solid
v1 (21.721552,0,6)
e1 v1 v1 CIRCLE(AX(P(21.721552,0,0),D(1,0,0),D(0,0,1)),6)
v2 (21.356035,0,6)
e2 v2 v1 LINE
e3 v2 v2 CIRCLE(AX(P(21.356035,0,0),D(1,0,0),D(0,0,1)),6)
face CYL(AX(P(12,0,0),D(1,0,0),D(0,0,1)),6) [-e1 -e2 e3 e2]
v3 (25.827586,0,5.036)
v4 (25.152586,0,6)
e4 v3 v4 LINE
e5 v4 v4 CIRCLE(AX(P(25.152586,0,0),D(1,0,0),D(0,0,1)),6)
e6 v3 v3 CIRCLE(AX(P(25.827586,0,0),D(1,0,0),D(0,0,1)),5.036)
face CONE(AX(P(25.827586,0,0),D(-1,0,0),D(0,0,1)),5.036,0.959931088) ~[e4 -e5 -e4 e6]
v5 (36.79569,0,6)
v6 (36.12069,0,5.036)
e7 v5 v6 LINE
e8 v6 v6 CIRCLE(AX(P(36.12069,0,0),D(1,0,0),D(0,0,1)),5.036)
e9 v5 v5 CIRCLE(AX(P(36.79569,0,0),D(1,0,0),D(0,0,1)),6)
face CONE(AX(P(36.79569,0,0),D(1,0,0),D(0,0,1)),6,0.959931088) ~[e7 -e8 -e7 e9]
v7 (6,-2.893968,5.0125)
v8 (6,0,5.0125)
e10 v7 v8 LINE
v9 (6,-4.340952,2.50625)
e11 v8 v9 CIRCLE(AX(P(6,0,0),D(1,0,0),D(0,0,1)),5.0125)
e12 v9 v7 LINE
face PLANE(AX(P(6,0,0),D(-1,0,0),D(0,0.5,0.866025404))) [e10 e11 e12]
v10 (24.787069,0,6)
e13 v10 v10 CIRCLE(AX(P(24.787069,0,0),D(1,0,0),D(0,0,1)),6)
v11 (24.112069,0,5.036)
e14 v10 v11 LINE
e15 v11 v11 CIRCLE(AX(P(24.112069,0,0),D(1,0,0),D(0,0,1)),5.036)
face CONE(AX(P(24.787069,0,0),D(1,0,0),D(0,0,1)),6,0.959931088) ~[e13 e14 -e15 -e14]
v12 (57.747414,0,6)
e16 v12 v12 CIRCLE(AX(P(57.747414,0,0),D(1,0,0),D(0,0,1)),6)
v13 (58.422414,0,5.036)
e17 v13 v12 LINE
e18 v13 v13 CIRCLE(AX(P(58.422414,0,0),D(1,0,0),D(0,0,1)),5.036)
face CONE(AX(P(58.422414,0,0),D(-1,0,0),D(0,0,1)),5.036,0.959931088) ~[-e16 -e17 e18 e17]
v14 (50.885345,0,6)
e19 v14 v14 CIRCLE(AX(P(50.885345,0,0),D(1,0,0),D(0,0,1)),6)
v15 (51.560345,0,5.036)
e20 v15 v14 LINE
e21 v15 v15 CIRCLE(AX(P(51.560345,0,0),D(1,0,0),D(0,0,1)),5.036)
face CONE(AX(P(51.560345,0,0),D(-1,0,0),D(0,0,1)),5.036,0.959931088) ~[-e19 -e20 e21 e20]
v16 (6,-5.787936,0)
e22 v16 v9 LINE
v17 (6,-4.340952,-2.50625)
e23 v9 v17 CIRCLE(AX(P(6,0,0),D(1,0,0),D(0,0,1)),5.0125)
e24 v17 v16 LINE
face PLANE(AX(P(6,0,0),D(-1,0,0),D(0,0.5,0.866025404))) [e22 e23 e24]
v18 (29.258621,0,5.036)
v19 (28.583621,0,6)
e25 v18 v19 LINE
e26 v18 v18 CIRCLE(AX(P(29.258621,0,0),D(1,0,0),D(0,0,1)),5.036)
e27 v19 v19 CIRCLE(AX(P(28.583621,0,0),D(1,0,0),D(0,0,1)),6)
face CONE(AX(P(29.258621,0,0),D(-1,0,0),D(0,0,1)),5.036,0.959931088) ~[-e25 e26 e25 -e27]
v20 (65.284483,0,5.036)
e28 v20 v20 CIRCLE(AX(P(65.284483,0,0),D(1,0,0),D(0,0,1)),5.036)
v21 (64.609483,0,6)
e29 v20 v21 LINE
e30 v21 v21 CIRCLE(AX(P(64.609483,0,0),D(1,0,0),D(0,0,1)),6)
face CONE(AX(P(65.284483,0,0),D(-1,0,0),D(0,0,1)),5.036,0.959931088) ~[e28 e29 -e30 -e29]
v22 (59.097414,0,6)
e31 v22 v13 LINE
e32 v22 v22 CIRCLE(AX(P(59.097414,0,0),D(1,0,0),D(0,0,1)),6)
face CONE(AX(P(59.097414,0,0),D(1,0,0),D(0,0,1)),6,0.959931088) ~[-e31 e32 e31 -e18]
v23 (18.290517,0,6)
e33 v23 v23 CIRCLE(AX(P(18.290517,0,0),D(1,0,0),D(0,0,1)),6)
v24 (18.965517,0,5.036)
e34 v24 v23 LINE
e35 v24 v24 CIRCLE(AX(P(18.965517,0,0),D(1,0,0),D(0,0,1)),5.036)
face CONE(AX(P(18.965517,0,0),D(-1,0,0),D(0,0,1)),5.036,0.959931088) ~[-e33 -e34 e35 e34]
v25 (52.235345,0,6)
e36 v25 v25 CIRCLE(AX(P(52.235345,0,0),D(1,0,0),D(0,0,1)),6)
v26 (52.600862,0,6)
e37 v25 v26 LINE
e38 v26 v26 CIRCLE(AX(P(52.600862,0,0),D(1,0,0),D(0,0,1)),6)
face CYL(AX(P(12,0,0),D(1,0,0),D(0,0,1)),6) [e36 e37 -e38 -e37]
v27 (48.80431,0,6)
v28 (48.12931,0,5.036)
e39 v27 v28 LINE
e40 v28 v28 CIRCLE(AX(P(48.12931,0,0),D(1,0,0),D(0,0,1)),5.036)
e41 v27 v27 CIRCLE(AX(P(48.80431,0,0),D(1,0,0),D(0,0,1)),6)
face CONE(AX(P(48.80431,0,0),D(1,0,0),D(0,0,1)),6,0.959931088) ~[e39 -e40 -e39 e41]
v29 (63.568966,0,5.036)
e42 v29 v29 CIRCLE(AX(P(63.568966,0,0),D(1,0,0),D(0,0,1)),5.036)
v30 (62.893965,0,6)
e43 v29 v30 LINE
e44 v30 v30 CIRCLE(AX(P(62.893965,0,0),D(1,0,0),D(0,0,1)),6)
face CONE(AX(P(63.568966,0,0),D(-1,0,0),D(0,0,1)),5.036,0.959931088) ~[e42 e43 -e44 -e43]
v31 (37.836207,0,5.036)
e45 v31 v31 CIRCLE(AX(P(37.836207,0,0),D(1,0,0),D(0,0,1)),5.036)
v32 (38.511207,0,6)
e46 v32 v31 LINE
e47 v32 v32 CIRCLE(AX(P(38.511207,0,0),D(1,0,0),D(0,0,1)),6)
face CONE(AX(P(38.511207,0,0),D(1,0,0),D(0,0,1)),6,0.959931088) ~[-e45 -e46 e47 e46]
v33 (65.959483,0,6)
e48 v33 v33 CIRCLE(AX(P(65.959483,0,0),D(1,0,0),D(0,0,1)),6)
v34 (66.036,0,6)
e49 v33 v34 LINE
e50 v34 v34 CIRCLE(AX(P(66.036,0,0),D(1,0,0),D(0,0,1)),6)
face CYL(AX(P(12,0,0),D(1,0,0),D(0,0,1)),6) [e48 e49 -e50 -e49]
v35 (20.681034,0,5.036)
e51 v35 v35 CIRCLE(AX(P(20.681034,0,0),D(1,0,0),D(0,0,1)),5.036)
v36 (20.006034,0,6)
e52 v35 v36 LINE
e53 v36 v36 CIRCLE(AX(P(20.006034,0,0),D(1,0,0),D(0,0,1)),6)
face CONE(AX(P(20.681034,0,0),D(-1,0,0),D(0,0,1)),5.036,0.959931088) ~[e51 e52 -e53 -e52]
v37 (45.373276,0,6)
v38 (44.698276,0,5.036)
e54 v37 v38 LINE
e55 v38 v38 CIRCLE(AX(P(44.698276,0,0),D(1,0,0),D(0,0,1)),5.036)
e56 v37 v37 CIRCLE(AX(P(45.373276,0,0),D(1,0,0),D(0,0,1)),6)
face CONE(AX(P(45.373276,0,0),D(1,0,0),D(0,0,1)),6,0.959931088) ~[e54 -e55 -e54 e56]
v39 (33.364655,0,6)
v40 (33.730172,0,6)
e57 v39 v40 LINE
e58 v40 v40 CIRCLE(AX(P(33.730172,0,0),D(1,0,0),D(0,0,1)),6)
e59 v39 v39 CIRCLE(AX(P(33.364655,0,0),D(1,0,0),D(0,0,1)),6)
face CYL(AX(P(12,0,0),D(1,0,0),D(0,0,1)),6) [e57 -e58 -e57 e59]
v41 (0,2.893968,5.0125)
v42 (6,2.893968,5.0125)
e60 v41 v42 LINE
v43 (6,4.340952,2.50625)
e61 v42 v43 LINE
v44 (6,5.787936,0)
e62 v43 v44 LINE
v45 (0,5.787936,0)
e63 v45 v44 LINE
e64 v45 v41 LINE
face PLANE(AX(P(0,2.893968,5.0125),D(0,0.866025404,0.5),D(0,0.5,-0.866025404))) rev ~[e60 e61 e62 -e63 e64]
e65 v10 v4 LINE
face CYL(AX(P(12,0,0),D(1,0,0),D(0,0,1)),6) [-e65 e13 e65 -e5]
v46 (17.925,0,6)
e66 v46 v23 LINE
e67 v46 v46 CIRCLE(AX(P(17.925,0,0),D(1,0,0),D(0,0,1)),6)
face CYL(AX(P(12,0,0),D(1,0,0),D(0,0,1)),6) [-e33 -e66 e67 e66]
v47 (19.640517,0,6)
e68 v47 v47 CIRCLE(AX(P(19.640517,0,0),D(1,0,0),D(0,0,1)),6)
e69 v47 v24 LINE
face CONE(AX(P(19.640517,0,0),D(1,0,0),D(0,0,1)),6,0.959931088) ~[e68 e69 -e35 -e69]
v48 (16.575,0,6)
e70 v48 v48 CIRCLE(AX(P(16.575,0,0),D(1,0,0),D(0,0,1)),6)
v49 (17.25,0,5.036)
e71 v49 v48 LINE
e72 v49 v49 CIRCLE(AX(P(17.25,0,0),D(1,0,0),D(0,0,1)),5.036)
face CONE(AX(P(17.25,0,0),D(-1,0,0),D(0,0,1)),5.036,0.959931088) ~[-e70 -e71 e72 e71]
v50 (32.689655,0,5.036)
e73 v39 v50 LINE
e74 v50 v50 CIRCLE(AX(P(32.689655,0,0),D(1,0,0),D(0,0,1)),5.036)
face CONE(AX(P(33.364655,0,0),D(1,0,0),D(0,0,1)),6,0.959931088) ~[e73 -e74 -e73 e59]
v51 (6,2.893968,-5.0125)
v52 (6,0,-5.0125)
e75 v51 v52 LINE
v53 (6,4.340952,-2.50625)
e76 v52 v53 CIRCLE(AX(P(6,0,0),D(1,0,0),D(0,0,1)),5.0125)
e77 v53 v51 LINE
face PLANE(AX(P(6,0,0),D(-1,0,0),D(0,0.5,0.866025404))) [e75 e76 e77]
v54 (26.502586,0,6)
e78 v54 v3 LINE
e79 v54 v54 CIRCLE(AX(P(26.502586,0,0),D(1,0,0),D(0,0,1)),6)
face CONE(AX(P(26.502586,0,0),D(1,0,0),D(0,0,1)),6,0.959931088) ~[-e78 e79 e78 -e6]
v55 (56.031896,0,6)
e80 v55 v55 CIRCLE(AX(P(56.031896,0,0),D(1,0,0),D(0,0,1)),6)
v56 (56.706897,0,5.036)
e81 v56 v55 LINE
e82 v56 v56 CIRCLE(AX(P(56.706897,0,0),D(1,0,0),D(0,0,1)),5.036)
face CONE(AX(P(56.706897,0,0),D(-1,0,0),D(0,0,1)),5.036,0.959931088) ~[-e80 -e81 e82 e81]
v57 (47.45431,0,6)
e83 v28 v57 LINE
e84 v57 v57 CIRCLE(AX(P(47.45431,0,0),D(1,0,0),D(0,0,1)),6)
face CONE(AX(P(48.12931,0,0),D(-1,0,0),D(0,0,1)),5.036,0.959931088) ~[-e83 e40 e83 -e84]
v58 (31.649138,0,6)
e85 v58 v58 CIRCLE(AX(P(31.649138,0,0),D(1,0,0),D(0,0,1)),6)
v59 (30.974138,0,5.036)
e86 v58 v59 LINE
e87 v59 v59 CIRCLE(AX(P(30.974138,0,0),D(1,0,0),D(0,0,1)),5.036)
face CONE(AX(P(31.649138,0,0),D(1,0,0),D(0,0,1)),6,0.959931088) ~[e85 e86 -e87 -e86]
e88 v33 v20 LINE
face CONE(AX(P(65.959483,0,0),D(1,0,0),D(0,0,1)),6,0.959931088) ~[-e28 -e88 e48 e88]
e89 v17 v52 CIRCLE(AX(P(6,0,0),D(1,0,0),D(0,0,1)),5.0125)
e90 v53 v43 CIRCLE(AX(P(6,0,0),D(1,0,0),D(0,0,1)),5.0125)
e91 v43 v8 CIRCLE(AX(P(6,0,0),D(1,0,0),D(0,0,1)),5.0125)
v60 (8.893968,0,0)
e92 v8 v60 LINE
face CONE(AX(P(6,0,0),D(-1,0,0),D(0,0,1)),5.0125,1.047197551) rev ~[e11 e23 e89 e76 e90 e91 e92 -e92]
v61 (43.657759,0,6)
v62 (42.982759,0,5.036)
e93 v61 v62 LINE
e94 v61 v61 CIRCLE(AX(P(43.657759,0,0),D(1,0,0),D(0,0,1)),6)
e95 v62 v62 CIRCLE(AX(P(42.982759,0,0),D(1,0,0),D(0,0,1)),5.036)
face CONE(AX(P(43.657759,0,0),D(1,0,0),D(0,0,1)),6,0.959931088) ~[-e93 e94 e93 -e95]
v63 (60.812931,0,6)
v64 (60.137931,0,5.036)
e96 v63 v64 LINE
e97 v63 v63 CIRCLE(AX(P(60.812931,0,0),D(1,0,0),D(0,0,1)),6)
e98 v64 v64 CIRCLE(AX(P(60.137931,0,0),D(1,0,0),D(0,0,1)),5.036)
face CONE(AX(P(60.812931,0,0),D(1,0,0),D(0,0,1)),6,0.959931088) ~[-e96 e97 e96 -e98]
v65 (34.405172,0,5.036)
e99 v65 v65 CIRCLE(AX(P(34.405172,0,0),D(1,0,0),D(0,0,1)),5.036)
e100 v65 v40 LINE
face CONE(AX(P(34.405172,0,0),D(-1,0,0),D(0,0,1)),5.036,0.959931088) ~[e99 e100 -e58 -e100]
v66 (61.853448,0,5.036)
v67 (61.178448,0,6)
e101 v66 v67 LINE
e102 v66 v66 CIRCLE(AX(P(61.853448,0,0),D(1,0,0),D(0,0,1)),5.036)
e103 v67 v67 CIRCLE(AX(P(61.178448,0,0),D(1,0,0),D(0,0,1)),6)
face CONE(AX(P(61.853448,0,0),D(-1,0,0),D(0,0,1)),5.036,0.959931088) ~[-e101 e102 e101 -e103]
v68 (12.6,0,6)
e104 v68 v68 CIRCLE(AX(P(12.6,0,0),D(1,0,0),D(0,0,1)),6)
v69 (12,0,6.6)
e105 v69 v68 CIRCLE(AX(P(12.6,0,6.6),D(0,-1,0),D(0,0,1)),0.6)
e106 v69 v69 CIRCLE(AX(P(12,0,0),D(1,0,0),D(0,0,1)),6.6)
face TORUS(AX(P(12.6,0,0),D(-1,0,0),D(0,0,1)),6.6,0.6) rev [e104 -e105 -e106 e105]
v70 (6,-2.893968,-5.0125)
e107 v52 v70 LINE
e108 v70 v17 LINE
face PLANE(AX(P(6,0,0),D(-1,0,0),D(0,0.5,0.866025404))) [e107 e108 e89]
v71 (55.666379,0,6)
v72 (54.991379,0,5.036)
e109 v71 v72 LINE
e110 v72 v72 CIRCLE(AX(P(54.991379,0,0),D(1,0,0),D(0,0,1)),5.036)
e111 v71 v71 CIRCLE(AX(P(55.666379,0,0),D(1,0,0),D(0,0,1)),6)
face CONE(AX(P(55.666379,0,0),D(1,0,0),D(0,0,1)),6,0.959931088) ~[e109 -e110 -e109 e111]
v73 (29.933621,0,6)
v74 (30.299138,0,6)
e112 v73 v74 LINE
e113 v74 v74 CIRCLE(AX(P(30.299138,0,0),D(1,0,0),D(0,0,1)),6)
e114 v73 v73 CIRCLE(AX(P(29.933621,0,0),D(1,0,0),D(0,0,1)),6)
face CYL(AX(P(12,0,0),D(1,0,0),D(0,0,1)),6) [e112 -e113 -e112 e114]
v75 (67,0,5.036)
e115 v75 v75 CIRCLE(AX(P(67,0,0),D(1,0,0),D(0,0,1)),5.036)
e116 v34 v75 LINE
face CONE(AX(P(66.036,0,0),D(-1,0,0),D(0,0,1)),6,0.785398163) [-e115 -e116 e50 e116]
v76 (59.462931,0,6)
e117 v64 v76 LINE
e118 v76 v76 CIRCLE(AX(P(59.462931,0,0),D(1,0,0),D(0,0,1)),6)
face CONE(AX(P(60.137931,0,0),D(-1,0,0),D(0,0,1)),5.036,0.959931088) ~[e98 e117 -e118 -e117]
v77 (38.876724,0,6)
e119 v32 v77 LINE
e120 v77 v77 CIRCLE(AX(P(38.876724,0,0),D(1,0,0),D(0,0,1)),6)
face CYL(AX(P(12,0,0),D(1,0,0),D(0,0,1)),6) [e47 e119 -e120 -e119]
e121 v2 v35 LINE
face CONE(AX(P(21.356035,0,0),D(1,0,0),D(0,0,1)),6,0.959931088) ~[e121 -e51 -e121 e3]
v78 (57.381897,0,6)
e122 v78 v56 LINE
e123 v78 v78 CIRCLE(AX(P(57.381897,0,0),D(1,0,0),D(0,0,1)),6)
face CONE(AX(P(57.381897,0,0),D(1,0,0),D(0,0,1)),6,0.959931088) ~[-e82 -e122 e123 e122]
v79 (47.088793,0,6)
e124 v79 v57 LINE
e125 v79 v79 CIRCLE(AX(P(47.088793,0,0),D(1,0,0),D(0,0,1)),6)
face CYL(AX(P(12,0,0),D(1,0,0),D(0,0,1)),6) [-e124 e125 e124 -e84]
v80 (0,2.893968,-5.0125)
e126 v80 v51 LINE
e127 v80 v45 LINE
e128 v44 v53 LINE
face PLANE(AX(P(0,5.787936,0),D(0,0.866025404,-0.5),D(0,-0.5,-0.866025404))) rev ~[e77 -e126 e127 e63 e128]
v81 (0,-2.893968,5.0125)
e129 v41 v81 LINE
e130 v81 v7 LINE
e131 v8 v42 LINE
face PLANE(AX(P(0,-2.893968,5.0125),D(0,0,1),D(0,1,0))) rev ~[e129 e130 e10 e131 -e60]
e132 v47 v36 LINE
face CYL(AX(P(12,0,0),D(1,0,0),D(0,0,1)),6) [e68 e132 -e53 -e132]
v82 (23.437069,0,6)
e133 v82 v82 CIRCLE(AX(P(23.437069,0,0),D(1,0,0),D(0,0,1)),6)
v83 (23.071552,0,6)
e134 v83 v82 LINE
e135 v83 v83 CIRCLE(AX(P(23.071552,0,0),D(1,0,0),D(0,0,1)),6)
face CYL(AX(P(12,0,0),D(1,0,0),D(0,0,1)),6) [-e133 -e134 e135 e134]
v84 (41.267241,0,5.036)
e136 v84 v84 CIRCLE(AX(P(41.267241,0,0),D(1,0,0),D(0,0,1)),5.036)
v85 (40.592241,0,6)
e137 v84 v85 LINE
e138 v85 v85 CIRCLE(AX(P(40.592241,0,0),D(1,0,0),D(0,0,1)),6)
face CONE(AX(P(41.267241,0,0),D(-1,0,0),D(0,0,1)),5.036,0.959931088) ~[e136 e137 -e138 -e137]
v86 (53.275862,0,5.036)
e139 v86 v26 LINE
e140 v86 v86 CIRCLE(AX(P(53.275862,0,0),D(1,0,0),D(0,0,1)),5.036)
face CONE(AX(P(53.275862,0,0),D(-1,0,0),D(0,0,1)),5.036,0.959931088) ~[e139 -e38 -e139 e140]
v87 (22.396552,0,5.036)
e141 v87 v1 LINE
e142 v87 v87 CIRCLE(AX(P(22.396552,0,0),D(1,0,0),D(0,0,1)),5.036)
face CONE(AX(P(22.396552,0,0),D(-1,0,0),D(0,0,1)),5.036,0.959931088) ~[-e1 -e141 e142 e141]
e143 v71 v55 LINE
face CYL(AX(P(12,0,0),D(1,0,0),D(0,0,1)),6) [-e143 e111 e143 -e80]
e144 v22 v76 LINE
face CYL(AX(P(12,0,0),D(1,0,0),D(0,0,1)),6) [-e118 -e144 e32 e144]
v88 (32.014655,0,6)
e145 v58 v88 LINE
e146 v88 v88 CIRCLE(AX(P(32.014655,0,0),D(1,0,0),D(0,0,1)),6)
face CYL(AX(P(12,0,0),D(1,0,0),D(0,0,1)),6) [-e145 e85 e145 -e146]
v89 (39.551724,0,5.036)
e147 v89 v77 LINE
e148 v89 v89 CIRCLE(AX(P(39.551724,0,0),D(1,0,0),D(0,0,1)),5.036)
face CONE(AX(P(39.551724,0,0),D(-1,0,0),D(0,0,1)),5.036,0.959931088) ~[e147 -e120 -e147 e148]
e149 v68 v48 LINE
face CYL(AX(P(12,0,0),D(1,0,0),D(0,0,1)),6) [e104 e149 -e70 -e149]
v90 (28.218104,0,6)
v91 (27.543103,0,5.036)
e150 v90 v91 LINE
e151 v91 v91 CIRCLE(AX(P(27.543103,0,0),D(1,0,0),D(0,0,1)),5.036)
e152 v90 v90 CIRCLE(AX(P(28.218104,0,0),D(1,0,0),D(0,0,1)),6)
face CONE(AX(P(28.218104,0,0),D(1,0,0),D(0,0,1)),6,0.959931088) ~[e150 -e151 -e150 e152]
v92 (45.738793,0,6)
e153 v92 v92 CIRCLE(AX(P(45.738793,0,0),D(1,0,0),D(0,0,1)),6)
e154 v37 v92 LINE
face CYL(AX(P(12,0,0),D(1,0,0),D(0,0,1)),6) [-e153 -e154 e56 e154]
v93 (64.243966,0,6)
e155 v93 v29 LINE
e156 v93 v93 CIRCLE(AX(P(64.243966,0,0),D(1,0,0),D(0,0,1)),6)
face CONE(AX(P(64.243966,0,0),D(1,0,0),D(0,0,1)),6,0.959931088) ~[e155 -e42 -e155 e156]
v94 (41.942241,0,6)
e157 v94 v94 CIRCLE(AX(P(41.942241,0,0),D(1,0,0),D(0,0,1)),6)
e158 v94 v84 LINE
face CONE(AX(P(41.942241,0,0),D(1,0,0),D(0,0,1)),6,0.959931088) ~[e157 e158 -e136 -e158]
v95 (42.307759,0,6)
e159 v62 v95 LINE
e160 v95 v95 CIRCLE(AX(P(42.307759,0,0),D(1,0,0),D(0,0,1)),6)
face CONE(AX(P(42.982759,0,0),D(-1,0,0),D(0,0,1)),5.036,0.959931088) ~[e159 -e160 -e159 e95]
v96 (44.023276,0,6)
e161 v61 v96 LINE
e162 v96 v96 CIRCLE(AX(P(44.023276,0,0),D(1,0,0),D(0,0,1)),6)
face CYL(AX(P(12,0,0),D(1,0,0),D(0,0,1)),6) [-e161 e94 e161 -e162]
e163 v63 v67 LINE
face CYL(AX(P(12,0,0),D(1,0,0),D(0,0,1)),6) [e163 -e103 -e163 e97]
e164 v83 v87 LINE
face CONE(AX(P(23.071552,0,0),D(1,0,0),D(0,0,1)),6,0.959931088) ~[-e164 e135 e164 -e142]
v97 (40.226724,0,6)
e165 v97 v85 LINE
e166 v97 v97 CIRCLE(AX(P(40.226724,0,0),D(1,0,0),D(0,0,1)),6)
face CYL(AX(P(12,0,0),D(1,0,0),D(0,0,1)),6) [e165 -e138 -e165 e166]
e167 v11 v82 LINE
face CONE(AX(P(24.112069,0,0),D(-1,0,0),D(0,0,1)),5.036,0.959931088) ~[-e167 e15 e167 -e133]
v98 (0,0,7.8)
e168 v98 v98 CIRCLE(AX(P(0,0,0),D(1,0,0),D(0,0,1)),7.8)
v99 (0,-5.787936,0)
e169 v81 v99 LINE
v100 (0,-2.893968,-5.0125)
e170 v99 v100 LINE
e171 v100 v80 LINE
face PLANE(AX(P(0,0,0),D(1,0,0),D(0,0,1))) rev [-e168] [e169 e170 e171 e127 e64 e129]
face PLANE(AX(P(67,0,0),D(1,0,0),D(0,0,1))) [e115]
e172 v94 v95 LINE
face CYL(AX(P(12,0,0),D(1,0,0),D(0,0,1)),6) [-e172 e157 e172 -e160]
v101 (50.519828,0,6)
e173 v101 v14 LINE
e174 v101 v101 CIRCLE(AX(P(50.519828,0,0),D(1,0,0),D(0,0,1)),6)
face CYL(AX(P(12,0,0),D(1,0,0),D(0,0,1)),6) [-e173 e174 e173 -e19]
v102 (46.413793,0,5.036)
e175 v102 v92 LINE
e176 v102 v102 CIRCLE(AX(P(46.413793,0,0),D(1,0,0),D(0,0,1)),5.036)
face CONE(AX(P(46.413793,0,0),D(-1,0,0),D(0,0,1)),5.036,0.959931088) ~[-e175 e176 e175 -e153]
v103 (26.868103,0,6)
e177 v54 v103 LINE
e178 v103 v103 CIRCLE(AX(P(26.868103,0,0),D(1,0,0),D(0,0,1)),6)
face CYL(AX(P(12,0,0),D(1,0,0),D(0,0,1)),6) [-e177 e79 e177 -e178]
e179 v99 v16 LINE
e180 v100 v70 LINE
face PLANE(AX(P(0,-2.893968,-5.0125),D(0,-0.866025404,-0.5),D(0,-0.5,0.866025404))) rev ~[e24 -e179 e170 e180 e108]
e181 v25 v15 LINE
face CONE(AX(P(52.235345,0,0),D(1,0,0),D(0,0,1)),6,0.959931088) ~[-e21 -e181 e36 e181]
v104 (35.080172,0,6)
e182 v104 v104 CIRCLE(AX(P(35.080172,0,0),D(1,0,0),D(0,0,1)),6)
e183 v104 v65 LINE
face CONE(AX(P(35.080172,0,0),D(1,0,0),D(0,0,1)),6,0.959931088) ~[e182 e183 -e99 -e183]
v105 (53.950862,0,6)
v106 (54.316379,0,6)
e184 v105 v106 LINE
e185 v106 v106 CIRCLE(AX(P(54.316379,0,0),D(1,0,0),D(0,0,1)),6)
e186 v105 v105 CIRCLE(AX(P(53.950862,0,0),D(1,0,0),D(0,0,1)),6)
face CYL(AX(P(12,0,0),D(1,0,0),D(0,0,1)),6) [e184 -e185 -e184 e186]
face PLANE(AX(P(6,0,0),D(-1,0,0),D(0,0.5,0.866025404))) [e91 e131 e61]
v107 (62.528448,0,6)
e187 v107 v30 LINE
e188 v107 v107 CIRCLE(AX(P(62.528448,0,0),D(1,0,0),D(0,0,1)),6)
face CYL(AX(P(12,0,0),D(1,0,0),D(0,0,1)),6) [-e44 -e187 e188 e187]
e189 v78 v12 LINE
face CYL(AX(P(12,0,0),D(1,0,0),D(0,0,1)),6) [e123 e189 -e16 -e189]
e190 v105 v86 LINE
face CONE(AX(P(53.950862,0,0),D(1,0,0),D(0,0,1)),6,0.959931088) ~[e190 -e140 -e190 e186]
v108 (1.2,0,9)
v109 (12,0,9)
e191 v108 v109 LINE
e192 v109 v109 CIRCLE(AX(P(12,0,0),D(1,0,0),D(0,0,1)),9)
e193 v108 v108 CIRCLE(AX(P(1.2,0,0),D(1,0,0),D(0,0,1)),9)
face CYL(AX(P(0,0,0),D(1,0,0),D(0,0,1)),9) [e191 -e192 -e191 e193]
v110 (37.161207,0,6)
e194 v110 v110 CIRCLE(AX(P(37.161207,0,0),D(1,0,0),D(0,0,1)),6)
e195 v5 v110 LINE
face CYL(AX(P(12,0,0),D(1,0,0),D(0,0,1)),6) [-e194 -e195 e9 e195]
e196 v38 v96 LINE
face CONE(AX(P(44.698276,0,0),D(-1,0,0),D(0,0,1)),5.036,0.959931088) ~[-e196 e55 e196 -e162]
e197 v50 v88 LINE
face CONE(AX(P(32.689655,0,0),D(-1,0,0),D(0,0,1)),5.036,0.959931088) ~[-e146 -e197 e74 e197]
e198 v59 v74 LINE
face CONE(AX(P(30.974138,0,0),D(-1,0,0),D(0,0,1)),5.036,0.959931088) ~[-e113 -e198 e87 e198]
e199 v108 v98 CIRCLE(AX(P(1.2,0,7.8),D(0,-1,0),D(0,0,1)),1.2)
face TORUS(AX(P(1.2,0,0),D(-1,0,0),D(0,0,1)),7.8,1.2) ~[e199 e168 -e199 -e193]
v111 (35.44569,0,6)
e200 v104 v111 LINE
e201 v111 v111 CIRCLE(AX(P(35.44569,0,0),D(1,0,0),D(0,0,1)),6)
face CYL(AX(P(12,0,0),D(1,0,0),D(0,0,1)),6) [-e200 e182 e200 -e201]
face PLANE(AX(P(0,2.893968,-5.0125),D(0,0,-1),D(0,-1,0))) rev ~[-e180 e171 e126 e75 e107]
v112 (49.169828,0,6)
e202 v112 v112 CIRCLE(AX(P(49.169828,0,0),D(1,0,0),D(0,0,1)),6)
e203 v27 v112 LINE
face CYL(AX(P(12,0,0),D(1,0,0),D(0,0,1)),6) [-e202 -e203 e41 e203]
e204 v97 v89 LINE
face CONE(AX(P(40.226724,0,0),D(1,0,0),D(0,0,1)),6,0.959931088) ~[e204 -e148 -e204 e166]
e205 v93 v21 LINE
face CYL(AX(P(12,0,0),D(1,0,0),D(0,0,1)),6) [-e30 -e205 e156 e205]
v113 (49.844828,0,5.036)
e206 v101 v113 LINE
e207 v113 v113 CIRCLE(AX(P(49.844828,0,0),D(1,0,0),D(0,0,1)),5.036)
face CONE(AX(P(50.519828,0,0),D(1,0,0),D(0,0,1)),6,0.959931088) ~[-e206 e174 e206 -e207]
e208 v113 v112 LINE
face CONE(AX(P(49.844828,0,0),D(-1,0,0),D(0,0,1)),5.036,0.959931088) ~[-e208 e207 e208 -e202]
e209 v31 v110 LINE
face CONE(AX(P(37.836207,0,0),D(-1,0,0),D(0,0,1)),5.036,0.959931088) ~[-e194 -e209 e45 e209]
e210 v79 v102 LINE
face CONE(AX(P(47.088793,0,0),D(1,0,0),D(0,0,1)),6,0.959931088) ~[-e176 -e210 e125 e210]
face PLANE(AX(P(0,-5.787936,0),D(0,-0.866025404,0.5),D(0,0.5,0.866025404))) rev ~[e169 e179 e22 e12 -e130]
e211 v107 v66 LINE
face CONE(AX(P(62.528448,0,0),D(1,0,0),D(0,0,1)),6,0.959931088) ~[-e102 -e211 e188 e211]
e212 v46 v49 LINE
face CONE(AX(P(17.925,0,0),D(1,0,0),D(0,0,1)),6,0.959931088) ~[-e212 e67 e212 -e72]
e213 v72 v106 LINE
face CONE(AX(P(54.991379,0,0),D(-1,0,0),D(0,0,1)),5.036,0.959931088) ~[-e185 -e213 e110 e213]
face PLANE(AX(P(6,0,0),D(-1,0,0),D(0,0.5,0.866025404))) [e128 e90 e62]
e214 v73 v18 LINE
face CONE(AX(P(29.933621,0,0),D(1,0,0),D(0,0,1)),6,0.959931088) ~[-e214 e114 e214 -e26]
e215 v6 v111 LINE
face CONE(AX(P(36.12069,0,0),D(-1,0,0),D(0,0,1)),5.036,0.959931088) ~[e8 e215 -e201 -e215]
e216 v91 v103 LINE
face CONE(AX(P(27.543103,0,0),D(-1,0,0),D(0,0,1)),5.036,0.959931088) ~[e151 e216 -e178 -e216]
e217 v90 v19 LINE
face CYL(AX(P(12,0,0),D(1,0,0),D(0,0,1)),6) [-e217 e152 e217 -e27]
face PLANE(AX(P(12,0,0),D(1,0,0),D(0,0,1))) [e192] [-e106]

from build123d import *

# Parameters (mm, degrees)
FILLET1_R       = 0.6
FILLET2_R       = 1.2
HEX_2_DEPTH     = 6
THDSCHPAT_COUNT = 29
THDSCHPAT_PITCH = 1.715517241


with BuildPart() as part:
    # BodySke → Base-Revolve (revolve)
    with BuildSketch(Plane.XY, mode=Mode.PRIVATE) as base_revolve_sk:
        Polygon((0, 0), (0, 9), (12, 9), (12, 6), (66.036, 6), (67, 5.036), (67, 0), align=None)
    revolve(base_revolve_sk.sketch.rotate(Axis((-31.75, 0, 0), (1, 0, 0)), 90), axis=Axis((-31.75, 0, 0), (1, 0, 0)))  # turned: the seam where the file's is

    # Fillet1
    fillet1_edges = [part.edges().sort_by_distance(p)[0] for p in [
        (12, 0, -6),
    ]]
    fillet(fillet1_edges, radius=FILLET1_R)

    # Fillet2
    fillet2_edges = [part.edges().sort_by_distance(p)[0] for p in [
        (0, 0, -9),
    ]]
    fillet(fillet2_edges, radius=FILLET2_R)

    # Sketch2 → Hex-PreBroach (revolve, cut)
    with BuildSketch(Plane.XY, mode=Mode.PRIVATE) as hex_prebroach_sk:
        Polygon((0, 5.0125), (6, 5.0125), (8.893968224, 0), (0, 0), align=None)
    revolve(hex_prebroach_sk.sketch.rotate(Axis((0, 0, 0), (1, 0, 0)), 90), axis=Axis((0, 0, 0), (1, 0, 0)), mode=Mode.SUBTRACT)  # turned: the seam where the file's is

    # Sketch3 → Hex 2 (cut)
    with BuildSketch(Plane(origin=(0, 0, 0), x_dir=(0, 0.5, 0.866025404), z_dir=(-1, 0, 0))):
        Polygon((2.893968224, 5.0125), (-2.893968224, 5.0125), (-5.787936449, 0), (-2.893968224, -5.0125), (2.893968224, -5.0125), (5.787936449, 0), align=None)
    extrude(amount=-HEX_2_DEPTH, mode=Mode.SUBTRACT)

    # ThdSchSke → ThreadSchematic (revolve, cut)
    with BuildSketch(Plane.XY, mode=Mode.PRIVATE) as threadschematic_sk:
        Polygon((17.25, -5.036), (16.574999933, -6), (16.574999933, -7.5), (17.925000067, -7.5), (17.925000067, -6), align=None)
    threadschematic = revolve(threadschematic_sk.sketch.rotate(Axis((-3.175, 0, 0), (1, 0, 0)), 270), axis=Axis((-3.175, 0, 0), (1, 0, 0)), mode=Mode.SUBTRACT)  # turned: the seam where the file's is

    # ThdSchPat: ThreadSchematic ×29
    with Locations(*[(i * THDSCHPAT_PITCH, 0, 0) for i in range(1, THDSCHPAT_COUNT)]):
        add(threadschematic, mode=Mode.SUBTRACT)


solid = part.part
